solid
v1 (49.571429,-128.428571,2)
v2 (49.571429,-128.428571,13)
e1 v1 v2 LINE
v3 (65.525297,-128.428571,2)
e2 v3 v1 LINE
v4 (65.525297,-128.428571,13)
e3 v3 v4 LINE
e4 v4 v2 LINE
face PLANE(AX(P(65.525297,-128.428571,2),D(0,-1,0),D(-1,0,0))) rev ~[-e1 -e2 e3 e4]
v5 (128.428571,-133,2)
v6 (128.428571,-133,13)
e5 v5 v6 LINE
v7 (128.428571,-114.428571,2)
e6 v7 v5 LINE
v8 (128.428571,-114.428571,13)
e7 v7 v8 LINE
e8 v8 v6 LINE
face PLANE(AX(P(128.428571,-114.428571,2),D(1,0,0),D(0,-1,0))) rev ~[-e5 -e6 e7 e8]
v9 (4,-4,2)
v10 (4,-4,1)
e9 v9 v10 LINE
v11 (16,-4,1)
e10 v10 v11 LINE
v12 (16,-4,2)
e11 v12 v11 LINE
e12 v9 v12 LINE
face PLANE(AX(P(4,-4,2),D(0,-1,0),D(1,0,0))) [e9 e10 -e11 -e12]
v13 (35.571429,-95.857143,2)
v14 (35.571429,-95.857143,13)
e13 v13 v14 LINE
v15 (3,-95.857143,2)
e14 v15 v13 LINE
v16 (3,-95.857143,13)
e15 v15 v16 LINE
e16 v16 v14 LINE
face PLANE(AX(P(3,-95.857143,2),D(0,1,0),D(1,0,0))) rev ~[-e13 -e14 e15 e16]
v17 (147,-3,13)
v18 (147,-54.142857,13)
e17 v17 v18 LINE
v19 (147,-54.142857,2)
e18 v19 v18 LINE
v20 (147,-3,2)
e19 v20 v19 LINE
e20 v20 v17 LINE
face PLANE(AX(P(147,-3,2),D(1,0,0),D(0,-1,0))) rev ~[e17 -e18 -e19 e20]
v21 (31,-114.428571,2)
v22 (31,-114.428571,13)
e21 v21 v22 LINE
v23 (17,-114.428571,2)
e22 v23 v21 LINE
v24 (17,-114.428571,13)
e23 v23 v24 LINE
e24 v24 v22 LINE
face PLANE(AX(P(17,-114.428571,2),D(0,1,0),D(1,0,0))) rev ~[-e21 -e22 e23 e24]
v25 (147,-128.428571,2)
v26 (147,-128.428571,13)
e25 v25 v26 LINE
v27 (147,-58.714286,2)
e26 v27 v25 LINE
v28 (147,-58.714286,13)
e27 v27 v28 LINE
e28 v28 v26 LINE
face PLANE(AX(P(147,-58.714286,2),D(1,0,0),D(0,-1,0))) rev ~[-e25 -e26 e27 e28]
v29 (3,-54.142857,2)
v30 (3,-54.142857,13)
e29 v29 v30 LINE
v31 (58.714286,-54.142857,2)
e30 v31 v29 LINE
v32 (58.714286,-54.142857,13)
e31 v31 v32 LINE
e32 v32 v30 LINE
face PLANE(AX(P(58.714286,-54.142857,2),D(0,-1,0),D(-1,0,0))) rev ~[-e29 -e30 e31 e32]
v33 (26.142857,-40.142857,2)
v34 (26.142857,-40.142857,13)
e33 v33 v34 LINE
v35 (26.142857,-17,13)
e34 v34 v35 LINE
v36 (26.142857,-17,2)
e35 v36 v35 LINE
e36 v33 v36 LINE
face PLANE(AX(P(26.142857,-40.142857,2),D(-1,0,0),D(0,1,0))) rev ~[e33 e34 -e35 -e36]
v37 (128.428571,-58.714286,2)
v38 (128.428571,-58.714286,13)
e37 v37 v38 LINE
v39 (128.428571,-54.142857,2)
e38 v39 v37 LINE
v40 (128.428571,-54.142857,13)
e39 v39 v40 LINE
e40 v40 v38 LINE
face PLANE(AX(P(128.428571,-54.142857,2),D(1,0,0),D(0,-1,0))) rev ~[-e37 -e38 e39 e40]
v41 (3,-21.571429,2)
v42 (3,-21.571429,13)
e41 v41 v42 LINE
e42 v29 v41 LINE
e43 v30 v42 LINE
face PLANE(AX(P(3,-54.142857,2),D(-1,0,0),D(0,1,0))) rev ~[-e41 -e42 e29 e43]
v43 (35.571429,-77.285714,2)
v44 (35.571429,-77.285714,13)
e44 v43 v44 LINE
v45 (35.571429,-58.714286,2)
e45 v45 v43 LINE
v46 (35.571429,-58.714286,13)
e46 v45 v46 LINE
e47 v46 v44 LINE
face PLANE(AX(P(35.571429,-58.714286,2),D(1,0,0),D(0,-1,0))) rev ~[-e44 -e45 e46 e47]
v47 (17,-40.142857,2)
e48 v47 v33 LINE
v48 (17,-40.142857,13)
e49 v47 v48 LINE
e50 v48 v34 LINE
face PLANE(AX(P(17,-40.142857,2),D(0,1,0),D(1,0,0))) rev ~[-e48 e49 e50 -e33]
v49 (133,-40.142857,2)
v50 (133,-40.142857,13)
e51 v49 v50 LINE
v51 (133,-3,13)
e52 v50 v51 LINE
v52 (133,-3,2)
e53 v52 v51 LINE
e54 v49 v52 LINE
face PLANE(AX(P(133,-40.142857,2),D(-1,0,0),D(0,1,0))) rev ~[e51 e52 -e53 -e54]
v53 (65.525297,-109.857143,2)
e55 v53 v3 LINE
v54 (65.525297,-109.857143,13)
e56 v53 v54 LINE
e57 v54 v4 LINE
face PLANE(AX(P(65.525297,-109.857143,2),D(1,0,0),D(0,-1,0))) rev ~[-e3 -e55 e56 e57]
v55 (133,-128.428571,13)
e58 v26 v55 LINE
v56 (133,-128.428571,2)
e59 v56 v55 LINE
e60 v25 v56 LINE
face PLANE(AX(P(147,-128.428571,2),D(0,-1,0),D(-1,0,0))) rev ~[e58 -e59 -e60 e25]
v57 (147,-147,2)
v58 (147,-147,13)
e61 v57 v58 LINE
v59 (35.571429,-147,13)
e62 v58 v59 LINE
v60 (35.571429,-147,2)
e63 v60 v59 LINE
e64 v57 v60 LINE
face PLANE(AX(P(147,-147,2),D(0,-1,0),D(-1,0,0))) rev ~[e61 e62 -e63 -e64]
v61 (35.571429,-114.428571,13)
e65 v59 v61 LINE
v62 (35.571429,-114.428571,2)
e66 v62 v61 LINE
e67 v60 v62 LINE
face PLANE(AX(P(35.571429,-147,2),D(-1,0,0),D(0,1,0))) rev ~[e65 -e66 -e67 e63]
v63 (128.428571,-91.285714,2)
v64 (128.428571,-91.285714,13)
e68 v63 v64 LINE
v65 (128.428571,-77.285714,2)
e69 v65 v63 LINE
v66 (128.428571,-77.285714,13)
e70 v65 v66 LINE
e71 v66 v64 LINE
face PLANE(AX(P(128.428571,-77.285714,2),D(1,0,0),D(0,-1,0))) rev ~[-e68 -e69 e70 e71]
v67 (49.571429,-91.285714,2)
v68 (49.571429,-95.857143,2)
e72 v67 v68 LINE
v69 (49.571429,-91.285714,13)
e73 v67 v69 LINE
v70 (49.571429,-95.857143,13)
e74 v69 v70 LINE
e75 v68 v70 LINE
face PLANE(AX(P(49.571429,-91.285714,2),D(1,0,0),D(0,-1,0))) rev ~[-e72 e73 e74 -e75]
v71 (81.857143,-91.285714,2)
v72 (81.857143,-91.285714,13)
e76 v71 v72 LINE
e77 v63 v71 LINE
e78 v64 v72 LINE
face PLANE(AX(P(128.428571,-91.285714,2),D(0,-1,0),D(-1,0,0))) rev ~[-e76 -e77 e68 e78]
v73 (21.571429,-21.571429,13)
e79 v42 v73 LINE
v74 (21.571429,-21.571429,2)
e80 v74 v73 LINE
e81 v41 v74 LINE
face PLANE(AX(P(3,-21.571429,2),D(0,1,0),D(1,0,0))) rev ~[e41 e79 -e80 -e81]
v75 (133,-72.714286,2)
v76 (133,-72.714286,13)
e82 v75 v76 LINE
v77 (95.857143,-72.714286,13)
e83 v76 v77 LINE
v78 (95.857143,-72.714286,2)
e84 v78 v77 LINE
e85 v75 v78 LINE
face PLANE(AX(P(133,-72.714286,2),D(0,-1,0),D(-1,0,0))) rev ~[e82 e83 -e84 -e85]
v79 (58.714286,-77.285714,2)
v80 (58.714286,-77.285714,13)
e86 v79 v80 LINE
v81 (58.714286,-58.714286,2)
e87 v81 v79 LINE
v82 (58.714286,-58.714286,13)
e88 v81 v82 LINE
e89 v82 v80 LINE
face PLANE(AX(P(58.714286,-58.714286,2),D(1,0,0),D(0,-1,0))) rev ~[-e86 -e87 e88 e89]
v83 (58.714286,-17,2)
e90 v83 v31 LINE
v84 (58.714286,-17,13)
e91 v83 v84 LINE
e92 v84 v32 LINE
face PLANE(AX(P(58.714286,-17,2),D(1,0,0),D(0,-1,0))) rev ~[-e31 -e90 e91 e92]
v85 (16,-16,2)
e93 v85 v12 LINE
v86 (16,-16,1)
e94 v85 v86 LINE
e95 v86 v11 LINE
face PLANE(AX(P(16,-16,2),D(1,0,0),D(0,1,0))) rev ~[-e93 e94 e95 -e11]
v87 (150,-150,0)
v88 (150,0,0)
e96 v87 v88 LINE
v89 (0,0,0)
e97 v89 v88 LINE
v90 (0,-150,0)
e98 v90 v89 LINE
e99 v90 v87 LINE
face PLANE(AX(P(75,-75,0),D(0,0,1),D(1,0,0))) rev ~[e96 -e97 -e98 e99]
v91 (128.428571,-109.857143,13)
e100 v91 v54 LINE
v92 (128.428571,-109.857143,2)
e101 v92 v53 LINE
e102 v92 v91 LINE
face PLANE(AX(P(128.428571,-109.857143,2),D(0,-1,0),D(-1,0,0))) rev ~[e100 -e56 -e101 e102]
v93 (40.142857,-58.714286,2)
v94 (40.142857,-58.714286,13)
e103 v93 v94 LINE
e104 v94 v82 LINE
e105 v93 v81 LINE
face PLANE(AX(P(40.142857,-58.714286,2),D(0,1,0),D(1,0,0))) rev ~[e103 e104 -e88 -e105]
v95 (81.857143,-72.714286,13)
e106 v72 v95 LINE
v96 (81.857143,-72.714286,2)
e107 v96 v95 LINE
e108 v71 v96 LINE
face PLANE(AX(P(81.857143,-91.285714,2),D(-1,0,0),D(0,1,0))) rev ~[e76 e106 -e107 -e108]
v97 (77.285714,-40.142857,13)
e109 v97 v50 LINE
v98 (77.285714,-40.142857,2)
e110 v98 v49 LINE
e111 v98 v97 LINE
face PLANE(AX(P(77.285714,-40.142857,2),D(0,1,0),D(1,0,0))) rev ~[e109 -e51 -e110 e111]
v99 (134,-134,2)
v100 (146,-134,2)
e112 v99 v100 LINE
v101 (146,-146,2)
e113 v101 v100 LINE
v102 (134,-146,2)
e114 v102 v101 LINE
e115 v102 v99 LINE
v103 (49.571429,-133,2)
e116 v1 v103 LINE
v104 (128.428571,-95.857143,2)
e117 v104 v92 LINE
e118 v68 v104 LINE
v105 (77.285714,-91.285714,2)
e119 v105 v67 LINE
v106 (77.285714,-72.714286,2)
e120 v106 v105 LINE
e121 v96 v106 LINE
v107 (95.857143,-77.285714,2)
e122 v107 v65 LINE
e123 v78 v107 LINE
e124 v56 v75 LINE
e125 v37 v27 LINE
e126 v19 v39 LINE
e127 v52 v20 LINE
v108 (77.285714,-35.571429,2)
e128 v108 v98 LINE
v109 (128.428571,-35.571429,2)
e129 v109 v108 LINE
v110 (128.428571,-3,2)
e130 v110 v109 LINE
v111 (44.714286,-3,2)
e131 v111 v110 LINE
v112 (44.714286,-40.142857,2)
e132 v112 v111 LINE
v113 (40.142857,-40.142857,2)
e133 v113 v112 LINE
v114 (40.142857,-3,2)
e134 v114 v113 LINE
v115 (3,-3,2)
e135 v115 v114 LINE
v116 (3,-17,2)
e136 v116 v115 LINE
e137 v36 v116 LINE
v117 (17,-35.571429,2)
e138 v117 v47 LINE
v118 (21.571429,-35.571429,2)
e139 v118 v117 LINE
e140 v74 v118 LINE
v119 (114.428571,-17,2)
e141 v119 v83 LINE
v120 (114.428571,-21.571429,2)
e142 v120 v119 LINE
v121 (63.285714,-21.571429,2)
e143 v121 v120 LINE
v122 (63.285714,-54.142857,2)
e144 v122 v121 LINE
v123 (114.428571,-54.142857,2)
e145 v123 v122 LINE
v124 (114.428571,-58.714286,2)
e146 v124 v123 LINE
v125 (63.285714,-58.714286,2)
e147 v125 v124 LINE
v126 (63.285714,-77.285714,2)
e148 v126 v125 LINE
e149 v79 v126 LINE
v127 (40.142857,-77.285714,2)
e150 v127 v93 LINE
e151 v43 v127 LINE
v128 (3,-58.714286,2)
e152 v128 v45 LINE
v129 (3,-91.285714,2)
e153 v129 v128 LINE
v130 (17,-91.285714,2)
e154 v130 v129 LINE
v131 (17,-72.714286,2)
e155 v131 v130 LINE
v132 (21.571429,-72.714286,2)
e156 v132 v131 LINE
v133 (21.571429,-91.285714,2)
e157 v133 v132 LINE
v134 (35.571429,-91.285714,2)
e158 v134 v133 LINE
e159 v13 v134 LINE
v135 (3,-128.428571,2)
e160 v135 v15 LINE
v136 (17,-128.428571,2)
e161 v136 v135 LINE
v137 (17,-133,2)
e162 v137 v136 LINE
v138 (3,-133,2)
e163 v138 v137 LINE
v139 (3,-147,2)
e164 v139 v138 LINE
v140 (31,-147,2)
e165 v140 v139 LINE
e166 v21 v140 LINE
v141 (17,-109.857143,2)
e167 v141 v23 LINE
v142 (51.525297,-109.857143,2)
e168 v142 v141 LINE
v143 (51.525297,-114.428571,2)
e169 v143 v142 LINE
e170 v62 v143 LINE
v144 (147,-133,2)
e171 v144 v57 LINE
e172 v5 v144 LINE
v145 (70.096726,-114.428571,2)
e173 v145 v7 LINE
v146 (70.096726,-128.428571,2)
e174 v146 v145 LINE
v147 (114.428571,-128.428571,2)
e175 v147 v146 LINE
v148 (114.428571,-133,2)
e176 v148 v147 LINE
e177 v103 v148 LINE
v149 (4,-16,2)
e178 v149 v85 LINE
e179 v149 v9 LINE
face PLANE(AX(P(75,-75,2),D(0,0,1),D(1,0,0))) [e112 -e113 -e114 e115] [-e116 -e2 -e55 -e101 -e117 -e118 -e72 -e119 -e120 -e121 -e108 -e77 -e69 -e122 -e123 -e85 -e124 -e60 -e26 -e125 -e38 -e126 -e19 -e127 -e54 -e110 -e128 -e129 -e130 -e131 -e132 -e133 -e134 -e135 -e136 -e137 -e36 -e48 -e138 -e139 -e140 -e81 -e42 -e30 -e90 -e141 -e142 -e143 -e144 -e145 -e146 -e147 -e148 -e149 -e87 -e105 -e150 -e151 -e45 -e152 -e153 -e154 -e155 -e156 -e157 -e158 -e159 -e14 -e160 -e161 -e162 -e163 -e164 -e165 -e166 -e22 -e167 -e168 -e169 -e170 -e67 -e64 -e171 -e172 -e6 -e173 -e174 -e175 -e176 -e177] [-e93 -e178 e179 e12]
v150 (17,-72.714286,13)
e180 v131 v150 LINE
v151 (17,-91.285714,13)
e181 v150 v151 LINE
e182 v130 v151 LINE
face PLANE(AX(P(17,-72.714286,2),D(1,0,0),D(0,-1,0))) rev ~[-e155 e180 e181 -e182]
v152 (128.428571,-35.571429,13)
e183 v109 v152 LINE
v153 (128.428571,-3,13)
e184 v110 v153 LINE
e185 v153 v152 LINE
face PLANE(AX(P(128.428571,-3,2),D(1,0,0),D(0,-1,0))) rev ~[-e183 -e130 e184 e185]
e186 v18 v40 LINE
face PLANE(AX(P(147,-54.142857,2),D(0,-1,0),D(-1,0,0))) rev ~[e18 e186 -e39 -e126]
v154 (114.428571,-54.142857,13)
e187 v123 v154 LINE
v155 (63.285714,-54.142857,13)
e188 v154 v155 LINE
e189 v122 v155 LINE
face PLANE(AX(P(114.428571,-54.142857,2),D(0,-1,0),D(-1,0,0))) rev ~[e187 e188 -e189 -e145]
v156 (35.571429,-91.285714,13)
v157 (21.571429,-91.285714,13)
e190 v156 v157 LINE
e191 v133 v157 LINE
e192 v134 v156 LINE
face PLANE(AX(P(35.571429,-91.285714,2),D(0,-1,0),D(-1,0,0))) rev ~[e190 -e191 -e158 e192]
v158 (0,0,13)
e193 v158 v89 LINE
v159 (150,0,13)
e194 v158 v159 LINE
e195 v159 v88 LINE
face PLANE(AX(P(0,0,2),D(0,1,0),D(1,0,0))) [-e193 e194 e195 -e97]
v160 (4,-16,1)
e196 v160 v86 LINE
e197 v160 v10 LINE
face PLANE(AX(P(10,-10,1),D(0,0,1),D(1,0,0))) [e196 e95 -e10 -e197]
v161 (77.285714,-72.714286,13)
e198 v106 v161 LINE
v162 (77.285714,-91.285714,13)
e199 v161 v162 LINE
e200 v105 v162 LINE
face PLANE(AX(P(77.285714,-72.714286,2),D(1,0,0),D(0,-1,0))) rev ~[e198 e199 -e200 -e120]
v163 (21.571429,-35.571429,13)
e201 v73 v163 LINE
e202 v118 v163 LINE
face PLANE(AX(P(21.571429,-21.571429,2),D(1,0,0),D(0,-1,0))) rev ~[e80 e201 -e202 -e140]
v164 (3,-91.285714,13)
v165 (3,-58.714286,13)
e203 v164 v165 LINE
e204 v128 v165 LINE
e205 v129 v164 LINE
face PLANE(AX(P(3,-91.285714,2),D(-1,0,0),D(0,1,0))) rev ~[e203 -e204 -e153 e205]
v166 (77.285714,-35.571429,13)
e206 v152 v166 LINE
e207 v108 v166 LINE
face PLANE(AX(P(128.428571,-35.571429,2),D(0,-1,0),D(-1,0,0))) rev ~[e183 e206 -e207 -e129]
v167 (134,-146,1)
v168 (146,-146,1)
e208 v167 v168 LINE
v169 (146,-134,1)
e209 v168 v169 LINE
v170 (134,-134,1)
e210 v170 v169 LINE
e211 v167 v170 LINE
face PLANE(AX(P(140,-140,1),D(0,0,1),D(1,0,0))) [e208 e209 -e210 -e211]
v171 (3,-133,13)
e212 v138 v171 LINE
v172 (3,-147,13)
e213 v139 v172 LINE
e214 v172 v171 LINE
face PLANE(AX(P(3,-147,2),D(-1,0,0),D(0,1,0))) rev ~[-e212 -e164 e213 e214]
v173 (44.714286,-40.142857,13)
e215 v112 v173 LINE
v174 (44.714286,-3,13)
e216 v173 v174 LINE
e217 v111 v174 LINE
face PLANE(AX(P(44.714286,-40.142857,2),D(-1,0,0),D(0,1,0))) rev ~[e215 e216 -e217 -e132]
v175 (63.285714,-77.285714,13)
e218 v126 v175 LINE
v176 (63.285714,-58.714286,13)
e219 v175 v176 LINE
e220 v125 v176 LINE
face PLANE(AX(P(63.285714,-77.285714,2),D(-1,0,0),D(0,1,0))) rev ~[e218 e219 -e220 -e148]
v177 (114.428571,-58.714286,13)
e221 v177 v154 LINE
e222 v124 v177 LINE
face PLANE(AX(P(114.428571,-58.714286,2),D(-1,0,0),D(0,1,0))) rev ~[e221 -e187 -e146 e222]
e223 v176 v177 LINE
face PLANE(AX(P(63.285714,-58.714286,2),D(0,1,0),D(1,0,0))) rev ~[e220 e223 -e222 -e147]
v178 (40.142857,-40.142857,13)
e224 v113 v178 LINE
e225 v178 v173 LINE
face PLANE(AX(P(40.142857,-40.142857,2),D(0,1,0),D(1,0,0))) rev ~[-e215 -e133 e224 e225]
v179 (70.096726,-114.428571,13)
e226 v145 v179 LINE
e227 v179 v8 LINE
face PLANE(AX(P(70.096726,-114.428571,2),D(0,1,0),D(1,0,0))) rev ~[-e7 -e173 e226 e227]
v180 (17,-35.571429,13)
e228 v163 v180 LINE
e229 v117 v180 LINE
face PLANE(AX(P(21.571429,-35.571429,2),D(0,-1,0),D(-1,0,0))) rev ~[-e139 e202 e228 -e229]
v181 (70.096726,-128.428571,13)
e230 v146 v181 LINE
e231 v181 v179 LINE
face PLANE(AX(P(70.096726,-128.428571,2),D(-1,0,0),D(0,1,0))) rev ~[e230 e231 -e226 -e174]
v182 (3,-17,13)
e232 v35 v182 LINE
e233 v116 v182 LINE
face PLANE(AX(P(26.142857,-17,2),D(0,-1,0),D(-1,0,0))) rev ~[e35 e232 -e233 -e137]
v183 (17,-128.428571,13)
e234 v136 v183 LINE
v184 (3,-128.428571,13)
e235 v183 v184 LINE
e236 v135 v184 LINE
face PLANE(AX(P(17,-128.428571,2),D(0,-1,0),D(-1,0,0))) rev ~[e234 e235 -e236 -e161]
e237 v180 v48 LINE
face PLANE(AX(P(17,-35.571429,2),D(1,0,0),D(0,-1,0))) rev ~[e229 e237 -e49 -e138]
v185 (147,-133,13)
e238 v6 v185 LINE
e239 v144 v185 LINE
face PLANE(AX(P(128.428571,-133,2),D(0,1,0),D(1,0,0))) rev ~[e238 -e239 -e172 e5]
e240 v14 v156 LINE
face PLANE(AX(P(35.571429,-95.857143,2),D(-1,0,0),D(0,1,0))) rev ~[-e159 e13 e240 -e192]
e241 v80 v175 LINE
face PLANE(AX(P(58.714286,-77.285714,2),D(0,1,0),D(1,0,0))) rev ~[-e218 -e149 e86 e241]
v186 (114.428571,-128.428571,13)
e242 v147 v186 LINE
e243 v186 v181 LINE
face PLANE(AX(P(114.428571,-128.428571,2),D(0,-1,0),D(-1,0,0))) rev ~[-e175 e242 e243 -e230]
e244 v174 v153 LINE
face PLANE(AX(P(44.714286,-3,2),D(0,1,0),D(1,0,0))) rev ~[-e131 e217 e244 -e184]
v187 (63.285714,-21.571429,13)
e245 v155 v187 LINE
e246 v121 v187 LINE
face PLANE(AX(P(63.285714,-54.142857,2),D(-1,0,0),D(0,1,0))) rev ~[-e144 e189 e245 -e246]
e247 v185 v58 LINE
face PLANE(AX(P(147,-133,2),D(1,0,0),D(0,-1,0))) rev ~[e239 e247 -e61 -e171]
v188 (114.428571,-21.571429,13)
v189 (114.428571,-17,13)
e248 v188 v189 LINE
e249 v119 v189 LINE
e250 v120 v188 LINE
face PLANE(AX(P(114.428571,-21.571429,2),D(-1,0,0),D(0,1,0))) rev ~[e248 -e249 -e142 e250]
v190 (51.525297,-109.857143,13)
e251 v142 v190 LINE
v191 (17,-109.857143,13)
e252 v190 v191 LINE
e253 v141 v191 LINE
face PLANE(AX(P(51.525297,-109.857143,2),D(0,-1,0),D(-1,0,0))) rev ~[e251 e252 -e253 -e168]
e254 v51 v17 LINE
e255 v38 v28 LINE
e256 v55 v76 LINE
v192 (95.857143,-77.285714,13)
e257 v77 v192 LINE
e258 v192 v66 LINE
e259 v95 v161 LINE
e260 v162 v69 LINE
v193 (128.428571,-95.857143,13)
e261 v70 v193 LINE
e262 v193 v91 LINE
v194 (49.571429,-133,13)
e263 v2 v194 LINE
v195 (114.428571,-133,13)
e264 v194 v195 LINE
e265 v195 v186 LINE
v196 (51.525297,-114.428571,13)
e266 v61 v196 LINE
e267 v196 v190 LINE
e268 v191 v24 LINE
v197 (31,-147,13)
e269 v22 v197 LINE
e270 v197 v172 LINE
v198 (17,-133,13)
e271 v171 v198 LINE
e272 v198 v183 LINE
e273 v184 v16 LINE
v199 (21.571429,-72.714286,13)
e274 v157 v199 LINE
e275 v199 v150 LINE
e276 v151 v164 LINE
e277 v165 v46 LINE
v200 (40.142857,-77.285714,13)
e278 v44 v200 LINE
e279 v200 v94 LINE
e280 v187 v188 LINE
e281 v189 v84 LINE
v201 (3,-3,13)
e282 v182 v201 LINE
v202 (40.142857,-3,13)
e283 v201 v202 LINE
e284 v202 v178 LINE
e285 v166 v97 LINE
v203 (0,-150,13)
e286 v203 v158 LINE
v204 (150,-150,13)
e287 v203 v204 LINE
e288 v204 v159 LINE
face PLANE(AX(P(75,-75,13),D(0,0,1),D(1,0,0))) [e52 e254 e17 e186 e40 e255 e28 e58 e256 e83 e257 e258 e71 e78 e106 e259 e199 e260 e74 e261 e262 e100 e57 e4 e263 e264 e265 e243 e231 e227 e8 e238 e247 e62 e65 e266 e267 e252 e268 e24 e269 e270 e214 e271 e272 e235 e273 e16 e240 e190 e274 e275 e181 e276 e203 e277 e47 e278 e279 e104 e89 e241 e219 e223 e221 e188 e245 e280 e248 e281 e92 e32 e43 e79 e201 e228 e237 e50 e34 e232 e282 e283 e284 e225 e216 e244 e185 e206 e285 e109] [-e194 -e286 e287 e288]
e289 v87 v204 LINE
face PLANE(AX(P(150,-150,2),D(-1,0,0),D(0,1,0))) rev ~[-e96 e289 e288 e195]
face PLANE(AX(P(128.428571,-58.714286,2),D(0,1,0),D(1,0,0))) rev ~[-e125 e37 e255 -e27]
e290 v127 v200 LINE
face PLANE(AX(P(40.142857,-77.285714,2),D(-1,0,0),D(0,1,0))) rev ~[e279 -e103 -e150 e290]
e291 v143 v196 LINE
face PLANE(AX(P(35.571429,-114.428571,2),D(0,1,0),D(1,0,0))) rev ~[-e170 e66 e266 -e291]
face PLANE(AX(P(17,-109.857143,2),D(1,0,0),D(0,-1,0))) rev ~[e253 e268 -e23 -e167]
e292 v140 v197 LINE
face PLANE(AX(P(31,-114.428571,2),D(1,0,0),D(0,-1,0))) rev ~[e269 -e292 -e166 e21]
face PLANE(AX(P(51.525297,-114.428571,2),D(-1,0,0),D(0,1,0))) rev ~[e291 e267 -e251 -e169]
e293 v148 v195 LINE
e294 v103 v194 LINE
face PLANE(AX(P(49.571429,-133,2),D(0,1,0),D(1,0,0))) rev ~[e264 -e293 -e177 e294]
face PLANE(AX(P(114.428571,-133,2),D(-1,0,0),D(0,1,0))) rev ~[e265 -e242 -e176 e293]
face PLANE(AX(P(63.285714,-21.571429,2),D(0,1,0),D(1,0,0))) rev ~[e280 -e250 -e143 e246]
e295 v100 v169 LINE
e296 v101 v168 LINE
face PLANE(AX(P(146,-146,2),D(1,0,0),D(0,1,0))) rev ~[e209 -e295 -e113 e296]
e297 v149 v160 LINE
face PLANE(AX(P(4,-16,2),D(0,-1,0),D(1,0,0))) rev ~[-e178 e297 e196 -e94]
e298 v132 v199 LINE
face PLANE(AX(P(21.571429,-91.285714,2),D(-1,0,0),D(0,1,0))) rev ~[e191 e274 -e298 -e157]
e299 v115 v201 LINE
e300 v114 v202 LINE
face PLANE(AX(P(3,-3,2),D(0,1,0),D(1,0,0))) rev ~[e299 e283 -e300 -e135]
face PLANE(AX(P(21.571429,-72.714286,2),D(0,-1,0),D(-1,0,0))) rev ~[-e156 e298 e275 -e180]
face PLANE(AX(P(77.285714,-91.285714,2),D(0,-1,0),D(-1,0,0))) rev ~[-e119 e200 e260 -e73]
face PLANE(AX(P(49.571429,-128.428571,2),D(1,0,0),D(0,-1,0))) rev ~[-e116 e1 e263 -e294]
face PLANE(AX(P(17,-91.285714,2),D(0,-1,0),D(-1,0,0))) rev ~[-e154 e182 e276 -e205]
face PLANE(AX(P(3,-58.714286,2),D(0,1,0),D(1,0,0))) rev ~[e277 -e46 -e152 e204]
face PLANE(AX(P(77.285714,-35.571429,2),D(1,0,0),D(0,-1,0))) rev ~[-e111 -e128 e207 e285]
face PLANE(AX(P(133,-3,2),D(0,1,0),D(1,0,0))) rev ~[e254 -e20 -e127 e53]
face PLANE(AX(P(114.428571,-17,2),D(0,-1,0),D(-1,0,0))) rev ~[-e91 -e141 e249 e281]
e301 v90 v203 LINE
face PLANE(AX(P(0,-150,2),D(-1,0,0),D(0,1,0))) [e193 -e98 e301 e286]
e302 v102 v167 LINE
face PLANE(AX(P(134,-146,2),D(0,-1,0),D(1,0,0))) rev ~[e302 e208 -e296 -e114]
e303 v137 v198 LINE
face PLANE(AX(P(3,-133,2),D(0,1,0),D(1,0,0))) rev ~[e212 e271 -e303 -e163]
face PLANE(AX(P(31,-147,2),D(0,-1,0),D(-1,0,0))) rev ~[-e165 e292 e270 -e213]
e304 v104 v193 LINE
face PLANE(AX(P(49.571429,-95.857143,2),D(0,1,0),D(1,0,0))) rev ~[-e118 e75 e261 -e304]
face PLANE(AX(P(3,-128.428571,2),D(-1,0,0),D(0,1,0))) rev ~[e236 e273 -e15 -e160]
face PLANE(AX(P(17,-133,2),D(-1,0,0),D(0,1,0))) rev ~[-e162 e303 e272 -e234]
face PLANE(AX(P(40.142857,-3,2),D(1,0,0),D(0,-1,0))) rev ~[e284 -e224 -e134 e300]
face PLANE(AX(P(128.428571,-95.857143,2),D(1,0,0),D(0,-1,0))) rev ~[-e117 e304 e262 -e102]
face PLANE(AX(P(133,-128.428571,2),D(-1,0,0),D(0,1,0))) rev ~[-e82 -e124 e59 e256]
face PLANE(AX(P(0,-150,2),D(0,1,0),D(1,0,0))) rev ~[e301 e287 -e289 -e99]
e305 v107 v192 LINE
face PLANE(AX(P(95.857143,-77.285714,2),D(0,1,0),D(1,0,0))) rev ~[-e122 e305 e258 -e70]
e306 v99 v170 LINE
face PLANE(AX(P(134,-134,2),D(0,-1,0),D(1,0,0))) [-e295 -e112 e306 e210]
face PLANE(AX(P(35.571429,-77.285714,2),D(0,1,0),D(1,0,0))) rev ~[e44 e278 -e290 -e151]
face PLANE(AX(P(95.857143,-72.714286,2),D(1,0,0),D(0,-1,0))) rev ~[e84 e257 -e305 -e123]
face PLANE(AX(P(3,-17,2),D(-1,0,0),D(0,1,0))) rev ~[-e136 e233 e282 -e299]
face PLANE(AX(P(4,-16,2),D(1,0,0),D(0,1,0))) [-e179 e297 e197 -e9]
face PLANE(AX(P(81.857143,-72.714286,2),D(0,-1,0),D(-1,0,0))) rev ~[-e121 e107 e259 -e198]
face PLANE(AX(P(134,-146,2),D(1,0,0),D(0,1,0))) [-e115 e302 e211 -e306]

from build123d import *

# Parameters (mm, degrees)
SKETCH2_W           = 150
SKETCH2_H           = 150
BOSS_EXTRUDE1_DEPTH = 2
SKETCH3_W           = 150
SKETCH3_H           = 150
BOSS_EXTRUDE2_DEPTH = 11
SKETCH4_W           = 12
SKETCH4_H           = 12
CUT_EXTRUDE1_DEPTH  = 1


with BuildPart() as part:
    # Sketch2 → Boss-Extrude1 (new body)
    with BuildSketch(Plane.XY):
        with Locations((75, -75)):
            Rectangle(SKETCH2_W, SKETCH2_H)
    extrude(amount=BOSS_EXTRUDE1_DEPTH)

    # Sketch3 → Boss-Extrude2 (add)
    with BuildSketch(Plane.XY.offset(2)):
        with Locations((75, -75)):
            Rectangle(SKETCH3_W, SKETCH3_H)
        Polygon((147, -147), (35.571428571, -147), (35.571428571, -114.428571429), (51.525296988, -114.428571429), (51.525296988, -109.857142857), (17, -109.857142857), (17, -114.428571429), (31, -114.428571429), (31, -147), (3, -147), (3, -133), (17, -133), (17, -128.428571429), (3, -128.428571429), (3, -95.857142857), (35.571428571, -95.857142857), (35.571428571, -91.285714286), (21.571428571, -91.285714286), (21.571428571, -72.714285714), (17, -72.714285714), (17, -91.285714286), (3, -91.285714286), (3, -58.714285714), (35.571428571, -58.714285714), (35.571428571, -77.285714286), (40.142857143, -77.285714286), (40.142857143, -58.714285714), (58.714285714, -58.714285714), (58.714285714, -77.285714286), (63.285714286, -77.285714286), (63.285714286, -58.714285714), (114.428571429, -58.714285714), (114.428571429, -54.142857143), (63.285714286, -54.142857143), (63.285714286, -21.571428571), (114.428571429, -21.571428571), (114.428571429, -17), (58.714285714, -17), (58.714285714, -54.142857143), (3, -54.142857143), (3, -21.571428571), (21.571428571, -21.571428571), (21.571428571, -35.571428571), (17, -35.571428571), (17, -40.142857143), (26.142857143, -40.142857143), (26.142857143, -17), (3, -17), (3, -3), (40.142857143, -3), (40.142857143, -40.142857143), (44.714285714, -40.142857143), (44.714285714, -3), (128.428571429, -3), (128.428571429, -35.571428571), (77.285714286, -35.571428571), (77.285714286, -40.142857143), (133, -40.142857143), (133, -3), (147, -3), (147, -54.142857143), (128.428571429, -54.142857143), (128.428571429, -58.714285714), (147, -58.714285714), (147, -128.428571429), (133, -128.428571429), (133, -72.714285714), (95.857142857, -72.714285714), (95.857142857, -77.285714286), (128.428571429, -77.285714286), (128.428571429, -91.285714286), (81.857142857, -91.285714286), (81.857142857, -72.714285714), (77.285714286, -72.714285714), (77.285714286, -91.285714286), (49.571428571, -91.285714286), (49.571428571, -95.857142857), (128.428571429, -95.857142857), (128.428571429, -109.857142857), (65.525296988, -109.857142857), (65.525296988, -128.428571429), (49.571428571, -128.428571429), (49.571428571, -133), (114.428571429, -133), (114.428571429, -128.428571429), (70.09672556, -128.428571429), (70.09672556, -114.428571429), (128.428571429, -114.428571429), (128.428571429, -133), (147, -133), align=None, mode=Mode.SUBTRACT)
    extrude(amount=BOSS_EXTRUDE2_DEPTH)

    # Sketch4 → Cut-Extrude1 (cut)
    with BuildSketch(Plane.XY.offset(2)):
        with Locations((10, -10)):
            Rectangle(SKETCH4_W, SKETCH4_H)
        with Locations((140, -140)):
            Rectangle(SKETCH4_W, SKETCH4_H)
    extrude(amount=-CUT_EXTRUDE1_DEPTH, mode=Mode.SUBTRACT)


solid = part.part
